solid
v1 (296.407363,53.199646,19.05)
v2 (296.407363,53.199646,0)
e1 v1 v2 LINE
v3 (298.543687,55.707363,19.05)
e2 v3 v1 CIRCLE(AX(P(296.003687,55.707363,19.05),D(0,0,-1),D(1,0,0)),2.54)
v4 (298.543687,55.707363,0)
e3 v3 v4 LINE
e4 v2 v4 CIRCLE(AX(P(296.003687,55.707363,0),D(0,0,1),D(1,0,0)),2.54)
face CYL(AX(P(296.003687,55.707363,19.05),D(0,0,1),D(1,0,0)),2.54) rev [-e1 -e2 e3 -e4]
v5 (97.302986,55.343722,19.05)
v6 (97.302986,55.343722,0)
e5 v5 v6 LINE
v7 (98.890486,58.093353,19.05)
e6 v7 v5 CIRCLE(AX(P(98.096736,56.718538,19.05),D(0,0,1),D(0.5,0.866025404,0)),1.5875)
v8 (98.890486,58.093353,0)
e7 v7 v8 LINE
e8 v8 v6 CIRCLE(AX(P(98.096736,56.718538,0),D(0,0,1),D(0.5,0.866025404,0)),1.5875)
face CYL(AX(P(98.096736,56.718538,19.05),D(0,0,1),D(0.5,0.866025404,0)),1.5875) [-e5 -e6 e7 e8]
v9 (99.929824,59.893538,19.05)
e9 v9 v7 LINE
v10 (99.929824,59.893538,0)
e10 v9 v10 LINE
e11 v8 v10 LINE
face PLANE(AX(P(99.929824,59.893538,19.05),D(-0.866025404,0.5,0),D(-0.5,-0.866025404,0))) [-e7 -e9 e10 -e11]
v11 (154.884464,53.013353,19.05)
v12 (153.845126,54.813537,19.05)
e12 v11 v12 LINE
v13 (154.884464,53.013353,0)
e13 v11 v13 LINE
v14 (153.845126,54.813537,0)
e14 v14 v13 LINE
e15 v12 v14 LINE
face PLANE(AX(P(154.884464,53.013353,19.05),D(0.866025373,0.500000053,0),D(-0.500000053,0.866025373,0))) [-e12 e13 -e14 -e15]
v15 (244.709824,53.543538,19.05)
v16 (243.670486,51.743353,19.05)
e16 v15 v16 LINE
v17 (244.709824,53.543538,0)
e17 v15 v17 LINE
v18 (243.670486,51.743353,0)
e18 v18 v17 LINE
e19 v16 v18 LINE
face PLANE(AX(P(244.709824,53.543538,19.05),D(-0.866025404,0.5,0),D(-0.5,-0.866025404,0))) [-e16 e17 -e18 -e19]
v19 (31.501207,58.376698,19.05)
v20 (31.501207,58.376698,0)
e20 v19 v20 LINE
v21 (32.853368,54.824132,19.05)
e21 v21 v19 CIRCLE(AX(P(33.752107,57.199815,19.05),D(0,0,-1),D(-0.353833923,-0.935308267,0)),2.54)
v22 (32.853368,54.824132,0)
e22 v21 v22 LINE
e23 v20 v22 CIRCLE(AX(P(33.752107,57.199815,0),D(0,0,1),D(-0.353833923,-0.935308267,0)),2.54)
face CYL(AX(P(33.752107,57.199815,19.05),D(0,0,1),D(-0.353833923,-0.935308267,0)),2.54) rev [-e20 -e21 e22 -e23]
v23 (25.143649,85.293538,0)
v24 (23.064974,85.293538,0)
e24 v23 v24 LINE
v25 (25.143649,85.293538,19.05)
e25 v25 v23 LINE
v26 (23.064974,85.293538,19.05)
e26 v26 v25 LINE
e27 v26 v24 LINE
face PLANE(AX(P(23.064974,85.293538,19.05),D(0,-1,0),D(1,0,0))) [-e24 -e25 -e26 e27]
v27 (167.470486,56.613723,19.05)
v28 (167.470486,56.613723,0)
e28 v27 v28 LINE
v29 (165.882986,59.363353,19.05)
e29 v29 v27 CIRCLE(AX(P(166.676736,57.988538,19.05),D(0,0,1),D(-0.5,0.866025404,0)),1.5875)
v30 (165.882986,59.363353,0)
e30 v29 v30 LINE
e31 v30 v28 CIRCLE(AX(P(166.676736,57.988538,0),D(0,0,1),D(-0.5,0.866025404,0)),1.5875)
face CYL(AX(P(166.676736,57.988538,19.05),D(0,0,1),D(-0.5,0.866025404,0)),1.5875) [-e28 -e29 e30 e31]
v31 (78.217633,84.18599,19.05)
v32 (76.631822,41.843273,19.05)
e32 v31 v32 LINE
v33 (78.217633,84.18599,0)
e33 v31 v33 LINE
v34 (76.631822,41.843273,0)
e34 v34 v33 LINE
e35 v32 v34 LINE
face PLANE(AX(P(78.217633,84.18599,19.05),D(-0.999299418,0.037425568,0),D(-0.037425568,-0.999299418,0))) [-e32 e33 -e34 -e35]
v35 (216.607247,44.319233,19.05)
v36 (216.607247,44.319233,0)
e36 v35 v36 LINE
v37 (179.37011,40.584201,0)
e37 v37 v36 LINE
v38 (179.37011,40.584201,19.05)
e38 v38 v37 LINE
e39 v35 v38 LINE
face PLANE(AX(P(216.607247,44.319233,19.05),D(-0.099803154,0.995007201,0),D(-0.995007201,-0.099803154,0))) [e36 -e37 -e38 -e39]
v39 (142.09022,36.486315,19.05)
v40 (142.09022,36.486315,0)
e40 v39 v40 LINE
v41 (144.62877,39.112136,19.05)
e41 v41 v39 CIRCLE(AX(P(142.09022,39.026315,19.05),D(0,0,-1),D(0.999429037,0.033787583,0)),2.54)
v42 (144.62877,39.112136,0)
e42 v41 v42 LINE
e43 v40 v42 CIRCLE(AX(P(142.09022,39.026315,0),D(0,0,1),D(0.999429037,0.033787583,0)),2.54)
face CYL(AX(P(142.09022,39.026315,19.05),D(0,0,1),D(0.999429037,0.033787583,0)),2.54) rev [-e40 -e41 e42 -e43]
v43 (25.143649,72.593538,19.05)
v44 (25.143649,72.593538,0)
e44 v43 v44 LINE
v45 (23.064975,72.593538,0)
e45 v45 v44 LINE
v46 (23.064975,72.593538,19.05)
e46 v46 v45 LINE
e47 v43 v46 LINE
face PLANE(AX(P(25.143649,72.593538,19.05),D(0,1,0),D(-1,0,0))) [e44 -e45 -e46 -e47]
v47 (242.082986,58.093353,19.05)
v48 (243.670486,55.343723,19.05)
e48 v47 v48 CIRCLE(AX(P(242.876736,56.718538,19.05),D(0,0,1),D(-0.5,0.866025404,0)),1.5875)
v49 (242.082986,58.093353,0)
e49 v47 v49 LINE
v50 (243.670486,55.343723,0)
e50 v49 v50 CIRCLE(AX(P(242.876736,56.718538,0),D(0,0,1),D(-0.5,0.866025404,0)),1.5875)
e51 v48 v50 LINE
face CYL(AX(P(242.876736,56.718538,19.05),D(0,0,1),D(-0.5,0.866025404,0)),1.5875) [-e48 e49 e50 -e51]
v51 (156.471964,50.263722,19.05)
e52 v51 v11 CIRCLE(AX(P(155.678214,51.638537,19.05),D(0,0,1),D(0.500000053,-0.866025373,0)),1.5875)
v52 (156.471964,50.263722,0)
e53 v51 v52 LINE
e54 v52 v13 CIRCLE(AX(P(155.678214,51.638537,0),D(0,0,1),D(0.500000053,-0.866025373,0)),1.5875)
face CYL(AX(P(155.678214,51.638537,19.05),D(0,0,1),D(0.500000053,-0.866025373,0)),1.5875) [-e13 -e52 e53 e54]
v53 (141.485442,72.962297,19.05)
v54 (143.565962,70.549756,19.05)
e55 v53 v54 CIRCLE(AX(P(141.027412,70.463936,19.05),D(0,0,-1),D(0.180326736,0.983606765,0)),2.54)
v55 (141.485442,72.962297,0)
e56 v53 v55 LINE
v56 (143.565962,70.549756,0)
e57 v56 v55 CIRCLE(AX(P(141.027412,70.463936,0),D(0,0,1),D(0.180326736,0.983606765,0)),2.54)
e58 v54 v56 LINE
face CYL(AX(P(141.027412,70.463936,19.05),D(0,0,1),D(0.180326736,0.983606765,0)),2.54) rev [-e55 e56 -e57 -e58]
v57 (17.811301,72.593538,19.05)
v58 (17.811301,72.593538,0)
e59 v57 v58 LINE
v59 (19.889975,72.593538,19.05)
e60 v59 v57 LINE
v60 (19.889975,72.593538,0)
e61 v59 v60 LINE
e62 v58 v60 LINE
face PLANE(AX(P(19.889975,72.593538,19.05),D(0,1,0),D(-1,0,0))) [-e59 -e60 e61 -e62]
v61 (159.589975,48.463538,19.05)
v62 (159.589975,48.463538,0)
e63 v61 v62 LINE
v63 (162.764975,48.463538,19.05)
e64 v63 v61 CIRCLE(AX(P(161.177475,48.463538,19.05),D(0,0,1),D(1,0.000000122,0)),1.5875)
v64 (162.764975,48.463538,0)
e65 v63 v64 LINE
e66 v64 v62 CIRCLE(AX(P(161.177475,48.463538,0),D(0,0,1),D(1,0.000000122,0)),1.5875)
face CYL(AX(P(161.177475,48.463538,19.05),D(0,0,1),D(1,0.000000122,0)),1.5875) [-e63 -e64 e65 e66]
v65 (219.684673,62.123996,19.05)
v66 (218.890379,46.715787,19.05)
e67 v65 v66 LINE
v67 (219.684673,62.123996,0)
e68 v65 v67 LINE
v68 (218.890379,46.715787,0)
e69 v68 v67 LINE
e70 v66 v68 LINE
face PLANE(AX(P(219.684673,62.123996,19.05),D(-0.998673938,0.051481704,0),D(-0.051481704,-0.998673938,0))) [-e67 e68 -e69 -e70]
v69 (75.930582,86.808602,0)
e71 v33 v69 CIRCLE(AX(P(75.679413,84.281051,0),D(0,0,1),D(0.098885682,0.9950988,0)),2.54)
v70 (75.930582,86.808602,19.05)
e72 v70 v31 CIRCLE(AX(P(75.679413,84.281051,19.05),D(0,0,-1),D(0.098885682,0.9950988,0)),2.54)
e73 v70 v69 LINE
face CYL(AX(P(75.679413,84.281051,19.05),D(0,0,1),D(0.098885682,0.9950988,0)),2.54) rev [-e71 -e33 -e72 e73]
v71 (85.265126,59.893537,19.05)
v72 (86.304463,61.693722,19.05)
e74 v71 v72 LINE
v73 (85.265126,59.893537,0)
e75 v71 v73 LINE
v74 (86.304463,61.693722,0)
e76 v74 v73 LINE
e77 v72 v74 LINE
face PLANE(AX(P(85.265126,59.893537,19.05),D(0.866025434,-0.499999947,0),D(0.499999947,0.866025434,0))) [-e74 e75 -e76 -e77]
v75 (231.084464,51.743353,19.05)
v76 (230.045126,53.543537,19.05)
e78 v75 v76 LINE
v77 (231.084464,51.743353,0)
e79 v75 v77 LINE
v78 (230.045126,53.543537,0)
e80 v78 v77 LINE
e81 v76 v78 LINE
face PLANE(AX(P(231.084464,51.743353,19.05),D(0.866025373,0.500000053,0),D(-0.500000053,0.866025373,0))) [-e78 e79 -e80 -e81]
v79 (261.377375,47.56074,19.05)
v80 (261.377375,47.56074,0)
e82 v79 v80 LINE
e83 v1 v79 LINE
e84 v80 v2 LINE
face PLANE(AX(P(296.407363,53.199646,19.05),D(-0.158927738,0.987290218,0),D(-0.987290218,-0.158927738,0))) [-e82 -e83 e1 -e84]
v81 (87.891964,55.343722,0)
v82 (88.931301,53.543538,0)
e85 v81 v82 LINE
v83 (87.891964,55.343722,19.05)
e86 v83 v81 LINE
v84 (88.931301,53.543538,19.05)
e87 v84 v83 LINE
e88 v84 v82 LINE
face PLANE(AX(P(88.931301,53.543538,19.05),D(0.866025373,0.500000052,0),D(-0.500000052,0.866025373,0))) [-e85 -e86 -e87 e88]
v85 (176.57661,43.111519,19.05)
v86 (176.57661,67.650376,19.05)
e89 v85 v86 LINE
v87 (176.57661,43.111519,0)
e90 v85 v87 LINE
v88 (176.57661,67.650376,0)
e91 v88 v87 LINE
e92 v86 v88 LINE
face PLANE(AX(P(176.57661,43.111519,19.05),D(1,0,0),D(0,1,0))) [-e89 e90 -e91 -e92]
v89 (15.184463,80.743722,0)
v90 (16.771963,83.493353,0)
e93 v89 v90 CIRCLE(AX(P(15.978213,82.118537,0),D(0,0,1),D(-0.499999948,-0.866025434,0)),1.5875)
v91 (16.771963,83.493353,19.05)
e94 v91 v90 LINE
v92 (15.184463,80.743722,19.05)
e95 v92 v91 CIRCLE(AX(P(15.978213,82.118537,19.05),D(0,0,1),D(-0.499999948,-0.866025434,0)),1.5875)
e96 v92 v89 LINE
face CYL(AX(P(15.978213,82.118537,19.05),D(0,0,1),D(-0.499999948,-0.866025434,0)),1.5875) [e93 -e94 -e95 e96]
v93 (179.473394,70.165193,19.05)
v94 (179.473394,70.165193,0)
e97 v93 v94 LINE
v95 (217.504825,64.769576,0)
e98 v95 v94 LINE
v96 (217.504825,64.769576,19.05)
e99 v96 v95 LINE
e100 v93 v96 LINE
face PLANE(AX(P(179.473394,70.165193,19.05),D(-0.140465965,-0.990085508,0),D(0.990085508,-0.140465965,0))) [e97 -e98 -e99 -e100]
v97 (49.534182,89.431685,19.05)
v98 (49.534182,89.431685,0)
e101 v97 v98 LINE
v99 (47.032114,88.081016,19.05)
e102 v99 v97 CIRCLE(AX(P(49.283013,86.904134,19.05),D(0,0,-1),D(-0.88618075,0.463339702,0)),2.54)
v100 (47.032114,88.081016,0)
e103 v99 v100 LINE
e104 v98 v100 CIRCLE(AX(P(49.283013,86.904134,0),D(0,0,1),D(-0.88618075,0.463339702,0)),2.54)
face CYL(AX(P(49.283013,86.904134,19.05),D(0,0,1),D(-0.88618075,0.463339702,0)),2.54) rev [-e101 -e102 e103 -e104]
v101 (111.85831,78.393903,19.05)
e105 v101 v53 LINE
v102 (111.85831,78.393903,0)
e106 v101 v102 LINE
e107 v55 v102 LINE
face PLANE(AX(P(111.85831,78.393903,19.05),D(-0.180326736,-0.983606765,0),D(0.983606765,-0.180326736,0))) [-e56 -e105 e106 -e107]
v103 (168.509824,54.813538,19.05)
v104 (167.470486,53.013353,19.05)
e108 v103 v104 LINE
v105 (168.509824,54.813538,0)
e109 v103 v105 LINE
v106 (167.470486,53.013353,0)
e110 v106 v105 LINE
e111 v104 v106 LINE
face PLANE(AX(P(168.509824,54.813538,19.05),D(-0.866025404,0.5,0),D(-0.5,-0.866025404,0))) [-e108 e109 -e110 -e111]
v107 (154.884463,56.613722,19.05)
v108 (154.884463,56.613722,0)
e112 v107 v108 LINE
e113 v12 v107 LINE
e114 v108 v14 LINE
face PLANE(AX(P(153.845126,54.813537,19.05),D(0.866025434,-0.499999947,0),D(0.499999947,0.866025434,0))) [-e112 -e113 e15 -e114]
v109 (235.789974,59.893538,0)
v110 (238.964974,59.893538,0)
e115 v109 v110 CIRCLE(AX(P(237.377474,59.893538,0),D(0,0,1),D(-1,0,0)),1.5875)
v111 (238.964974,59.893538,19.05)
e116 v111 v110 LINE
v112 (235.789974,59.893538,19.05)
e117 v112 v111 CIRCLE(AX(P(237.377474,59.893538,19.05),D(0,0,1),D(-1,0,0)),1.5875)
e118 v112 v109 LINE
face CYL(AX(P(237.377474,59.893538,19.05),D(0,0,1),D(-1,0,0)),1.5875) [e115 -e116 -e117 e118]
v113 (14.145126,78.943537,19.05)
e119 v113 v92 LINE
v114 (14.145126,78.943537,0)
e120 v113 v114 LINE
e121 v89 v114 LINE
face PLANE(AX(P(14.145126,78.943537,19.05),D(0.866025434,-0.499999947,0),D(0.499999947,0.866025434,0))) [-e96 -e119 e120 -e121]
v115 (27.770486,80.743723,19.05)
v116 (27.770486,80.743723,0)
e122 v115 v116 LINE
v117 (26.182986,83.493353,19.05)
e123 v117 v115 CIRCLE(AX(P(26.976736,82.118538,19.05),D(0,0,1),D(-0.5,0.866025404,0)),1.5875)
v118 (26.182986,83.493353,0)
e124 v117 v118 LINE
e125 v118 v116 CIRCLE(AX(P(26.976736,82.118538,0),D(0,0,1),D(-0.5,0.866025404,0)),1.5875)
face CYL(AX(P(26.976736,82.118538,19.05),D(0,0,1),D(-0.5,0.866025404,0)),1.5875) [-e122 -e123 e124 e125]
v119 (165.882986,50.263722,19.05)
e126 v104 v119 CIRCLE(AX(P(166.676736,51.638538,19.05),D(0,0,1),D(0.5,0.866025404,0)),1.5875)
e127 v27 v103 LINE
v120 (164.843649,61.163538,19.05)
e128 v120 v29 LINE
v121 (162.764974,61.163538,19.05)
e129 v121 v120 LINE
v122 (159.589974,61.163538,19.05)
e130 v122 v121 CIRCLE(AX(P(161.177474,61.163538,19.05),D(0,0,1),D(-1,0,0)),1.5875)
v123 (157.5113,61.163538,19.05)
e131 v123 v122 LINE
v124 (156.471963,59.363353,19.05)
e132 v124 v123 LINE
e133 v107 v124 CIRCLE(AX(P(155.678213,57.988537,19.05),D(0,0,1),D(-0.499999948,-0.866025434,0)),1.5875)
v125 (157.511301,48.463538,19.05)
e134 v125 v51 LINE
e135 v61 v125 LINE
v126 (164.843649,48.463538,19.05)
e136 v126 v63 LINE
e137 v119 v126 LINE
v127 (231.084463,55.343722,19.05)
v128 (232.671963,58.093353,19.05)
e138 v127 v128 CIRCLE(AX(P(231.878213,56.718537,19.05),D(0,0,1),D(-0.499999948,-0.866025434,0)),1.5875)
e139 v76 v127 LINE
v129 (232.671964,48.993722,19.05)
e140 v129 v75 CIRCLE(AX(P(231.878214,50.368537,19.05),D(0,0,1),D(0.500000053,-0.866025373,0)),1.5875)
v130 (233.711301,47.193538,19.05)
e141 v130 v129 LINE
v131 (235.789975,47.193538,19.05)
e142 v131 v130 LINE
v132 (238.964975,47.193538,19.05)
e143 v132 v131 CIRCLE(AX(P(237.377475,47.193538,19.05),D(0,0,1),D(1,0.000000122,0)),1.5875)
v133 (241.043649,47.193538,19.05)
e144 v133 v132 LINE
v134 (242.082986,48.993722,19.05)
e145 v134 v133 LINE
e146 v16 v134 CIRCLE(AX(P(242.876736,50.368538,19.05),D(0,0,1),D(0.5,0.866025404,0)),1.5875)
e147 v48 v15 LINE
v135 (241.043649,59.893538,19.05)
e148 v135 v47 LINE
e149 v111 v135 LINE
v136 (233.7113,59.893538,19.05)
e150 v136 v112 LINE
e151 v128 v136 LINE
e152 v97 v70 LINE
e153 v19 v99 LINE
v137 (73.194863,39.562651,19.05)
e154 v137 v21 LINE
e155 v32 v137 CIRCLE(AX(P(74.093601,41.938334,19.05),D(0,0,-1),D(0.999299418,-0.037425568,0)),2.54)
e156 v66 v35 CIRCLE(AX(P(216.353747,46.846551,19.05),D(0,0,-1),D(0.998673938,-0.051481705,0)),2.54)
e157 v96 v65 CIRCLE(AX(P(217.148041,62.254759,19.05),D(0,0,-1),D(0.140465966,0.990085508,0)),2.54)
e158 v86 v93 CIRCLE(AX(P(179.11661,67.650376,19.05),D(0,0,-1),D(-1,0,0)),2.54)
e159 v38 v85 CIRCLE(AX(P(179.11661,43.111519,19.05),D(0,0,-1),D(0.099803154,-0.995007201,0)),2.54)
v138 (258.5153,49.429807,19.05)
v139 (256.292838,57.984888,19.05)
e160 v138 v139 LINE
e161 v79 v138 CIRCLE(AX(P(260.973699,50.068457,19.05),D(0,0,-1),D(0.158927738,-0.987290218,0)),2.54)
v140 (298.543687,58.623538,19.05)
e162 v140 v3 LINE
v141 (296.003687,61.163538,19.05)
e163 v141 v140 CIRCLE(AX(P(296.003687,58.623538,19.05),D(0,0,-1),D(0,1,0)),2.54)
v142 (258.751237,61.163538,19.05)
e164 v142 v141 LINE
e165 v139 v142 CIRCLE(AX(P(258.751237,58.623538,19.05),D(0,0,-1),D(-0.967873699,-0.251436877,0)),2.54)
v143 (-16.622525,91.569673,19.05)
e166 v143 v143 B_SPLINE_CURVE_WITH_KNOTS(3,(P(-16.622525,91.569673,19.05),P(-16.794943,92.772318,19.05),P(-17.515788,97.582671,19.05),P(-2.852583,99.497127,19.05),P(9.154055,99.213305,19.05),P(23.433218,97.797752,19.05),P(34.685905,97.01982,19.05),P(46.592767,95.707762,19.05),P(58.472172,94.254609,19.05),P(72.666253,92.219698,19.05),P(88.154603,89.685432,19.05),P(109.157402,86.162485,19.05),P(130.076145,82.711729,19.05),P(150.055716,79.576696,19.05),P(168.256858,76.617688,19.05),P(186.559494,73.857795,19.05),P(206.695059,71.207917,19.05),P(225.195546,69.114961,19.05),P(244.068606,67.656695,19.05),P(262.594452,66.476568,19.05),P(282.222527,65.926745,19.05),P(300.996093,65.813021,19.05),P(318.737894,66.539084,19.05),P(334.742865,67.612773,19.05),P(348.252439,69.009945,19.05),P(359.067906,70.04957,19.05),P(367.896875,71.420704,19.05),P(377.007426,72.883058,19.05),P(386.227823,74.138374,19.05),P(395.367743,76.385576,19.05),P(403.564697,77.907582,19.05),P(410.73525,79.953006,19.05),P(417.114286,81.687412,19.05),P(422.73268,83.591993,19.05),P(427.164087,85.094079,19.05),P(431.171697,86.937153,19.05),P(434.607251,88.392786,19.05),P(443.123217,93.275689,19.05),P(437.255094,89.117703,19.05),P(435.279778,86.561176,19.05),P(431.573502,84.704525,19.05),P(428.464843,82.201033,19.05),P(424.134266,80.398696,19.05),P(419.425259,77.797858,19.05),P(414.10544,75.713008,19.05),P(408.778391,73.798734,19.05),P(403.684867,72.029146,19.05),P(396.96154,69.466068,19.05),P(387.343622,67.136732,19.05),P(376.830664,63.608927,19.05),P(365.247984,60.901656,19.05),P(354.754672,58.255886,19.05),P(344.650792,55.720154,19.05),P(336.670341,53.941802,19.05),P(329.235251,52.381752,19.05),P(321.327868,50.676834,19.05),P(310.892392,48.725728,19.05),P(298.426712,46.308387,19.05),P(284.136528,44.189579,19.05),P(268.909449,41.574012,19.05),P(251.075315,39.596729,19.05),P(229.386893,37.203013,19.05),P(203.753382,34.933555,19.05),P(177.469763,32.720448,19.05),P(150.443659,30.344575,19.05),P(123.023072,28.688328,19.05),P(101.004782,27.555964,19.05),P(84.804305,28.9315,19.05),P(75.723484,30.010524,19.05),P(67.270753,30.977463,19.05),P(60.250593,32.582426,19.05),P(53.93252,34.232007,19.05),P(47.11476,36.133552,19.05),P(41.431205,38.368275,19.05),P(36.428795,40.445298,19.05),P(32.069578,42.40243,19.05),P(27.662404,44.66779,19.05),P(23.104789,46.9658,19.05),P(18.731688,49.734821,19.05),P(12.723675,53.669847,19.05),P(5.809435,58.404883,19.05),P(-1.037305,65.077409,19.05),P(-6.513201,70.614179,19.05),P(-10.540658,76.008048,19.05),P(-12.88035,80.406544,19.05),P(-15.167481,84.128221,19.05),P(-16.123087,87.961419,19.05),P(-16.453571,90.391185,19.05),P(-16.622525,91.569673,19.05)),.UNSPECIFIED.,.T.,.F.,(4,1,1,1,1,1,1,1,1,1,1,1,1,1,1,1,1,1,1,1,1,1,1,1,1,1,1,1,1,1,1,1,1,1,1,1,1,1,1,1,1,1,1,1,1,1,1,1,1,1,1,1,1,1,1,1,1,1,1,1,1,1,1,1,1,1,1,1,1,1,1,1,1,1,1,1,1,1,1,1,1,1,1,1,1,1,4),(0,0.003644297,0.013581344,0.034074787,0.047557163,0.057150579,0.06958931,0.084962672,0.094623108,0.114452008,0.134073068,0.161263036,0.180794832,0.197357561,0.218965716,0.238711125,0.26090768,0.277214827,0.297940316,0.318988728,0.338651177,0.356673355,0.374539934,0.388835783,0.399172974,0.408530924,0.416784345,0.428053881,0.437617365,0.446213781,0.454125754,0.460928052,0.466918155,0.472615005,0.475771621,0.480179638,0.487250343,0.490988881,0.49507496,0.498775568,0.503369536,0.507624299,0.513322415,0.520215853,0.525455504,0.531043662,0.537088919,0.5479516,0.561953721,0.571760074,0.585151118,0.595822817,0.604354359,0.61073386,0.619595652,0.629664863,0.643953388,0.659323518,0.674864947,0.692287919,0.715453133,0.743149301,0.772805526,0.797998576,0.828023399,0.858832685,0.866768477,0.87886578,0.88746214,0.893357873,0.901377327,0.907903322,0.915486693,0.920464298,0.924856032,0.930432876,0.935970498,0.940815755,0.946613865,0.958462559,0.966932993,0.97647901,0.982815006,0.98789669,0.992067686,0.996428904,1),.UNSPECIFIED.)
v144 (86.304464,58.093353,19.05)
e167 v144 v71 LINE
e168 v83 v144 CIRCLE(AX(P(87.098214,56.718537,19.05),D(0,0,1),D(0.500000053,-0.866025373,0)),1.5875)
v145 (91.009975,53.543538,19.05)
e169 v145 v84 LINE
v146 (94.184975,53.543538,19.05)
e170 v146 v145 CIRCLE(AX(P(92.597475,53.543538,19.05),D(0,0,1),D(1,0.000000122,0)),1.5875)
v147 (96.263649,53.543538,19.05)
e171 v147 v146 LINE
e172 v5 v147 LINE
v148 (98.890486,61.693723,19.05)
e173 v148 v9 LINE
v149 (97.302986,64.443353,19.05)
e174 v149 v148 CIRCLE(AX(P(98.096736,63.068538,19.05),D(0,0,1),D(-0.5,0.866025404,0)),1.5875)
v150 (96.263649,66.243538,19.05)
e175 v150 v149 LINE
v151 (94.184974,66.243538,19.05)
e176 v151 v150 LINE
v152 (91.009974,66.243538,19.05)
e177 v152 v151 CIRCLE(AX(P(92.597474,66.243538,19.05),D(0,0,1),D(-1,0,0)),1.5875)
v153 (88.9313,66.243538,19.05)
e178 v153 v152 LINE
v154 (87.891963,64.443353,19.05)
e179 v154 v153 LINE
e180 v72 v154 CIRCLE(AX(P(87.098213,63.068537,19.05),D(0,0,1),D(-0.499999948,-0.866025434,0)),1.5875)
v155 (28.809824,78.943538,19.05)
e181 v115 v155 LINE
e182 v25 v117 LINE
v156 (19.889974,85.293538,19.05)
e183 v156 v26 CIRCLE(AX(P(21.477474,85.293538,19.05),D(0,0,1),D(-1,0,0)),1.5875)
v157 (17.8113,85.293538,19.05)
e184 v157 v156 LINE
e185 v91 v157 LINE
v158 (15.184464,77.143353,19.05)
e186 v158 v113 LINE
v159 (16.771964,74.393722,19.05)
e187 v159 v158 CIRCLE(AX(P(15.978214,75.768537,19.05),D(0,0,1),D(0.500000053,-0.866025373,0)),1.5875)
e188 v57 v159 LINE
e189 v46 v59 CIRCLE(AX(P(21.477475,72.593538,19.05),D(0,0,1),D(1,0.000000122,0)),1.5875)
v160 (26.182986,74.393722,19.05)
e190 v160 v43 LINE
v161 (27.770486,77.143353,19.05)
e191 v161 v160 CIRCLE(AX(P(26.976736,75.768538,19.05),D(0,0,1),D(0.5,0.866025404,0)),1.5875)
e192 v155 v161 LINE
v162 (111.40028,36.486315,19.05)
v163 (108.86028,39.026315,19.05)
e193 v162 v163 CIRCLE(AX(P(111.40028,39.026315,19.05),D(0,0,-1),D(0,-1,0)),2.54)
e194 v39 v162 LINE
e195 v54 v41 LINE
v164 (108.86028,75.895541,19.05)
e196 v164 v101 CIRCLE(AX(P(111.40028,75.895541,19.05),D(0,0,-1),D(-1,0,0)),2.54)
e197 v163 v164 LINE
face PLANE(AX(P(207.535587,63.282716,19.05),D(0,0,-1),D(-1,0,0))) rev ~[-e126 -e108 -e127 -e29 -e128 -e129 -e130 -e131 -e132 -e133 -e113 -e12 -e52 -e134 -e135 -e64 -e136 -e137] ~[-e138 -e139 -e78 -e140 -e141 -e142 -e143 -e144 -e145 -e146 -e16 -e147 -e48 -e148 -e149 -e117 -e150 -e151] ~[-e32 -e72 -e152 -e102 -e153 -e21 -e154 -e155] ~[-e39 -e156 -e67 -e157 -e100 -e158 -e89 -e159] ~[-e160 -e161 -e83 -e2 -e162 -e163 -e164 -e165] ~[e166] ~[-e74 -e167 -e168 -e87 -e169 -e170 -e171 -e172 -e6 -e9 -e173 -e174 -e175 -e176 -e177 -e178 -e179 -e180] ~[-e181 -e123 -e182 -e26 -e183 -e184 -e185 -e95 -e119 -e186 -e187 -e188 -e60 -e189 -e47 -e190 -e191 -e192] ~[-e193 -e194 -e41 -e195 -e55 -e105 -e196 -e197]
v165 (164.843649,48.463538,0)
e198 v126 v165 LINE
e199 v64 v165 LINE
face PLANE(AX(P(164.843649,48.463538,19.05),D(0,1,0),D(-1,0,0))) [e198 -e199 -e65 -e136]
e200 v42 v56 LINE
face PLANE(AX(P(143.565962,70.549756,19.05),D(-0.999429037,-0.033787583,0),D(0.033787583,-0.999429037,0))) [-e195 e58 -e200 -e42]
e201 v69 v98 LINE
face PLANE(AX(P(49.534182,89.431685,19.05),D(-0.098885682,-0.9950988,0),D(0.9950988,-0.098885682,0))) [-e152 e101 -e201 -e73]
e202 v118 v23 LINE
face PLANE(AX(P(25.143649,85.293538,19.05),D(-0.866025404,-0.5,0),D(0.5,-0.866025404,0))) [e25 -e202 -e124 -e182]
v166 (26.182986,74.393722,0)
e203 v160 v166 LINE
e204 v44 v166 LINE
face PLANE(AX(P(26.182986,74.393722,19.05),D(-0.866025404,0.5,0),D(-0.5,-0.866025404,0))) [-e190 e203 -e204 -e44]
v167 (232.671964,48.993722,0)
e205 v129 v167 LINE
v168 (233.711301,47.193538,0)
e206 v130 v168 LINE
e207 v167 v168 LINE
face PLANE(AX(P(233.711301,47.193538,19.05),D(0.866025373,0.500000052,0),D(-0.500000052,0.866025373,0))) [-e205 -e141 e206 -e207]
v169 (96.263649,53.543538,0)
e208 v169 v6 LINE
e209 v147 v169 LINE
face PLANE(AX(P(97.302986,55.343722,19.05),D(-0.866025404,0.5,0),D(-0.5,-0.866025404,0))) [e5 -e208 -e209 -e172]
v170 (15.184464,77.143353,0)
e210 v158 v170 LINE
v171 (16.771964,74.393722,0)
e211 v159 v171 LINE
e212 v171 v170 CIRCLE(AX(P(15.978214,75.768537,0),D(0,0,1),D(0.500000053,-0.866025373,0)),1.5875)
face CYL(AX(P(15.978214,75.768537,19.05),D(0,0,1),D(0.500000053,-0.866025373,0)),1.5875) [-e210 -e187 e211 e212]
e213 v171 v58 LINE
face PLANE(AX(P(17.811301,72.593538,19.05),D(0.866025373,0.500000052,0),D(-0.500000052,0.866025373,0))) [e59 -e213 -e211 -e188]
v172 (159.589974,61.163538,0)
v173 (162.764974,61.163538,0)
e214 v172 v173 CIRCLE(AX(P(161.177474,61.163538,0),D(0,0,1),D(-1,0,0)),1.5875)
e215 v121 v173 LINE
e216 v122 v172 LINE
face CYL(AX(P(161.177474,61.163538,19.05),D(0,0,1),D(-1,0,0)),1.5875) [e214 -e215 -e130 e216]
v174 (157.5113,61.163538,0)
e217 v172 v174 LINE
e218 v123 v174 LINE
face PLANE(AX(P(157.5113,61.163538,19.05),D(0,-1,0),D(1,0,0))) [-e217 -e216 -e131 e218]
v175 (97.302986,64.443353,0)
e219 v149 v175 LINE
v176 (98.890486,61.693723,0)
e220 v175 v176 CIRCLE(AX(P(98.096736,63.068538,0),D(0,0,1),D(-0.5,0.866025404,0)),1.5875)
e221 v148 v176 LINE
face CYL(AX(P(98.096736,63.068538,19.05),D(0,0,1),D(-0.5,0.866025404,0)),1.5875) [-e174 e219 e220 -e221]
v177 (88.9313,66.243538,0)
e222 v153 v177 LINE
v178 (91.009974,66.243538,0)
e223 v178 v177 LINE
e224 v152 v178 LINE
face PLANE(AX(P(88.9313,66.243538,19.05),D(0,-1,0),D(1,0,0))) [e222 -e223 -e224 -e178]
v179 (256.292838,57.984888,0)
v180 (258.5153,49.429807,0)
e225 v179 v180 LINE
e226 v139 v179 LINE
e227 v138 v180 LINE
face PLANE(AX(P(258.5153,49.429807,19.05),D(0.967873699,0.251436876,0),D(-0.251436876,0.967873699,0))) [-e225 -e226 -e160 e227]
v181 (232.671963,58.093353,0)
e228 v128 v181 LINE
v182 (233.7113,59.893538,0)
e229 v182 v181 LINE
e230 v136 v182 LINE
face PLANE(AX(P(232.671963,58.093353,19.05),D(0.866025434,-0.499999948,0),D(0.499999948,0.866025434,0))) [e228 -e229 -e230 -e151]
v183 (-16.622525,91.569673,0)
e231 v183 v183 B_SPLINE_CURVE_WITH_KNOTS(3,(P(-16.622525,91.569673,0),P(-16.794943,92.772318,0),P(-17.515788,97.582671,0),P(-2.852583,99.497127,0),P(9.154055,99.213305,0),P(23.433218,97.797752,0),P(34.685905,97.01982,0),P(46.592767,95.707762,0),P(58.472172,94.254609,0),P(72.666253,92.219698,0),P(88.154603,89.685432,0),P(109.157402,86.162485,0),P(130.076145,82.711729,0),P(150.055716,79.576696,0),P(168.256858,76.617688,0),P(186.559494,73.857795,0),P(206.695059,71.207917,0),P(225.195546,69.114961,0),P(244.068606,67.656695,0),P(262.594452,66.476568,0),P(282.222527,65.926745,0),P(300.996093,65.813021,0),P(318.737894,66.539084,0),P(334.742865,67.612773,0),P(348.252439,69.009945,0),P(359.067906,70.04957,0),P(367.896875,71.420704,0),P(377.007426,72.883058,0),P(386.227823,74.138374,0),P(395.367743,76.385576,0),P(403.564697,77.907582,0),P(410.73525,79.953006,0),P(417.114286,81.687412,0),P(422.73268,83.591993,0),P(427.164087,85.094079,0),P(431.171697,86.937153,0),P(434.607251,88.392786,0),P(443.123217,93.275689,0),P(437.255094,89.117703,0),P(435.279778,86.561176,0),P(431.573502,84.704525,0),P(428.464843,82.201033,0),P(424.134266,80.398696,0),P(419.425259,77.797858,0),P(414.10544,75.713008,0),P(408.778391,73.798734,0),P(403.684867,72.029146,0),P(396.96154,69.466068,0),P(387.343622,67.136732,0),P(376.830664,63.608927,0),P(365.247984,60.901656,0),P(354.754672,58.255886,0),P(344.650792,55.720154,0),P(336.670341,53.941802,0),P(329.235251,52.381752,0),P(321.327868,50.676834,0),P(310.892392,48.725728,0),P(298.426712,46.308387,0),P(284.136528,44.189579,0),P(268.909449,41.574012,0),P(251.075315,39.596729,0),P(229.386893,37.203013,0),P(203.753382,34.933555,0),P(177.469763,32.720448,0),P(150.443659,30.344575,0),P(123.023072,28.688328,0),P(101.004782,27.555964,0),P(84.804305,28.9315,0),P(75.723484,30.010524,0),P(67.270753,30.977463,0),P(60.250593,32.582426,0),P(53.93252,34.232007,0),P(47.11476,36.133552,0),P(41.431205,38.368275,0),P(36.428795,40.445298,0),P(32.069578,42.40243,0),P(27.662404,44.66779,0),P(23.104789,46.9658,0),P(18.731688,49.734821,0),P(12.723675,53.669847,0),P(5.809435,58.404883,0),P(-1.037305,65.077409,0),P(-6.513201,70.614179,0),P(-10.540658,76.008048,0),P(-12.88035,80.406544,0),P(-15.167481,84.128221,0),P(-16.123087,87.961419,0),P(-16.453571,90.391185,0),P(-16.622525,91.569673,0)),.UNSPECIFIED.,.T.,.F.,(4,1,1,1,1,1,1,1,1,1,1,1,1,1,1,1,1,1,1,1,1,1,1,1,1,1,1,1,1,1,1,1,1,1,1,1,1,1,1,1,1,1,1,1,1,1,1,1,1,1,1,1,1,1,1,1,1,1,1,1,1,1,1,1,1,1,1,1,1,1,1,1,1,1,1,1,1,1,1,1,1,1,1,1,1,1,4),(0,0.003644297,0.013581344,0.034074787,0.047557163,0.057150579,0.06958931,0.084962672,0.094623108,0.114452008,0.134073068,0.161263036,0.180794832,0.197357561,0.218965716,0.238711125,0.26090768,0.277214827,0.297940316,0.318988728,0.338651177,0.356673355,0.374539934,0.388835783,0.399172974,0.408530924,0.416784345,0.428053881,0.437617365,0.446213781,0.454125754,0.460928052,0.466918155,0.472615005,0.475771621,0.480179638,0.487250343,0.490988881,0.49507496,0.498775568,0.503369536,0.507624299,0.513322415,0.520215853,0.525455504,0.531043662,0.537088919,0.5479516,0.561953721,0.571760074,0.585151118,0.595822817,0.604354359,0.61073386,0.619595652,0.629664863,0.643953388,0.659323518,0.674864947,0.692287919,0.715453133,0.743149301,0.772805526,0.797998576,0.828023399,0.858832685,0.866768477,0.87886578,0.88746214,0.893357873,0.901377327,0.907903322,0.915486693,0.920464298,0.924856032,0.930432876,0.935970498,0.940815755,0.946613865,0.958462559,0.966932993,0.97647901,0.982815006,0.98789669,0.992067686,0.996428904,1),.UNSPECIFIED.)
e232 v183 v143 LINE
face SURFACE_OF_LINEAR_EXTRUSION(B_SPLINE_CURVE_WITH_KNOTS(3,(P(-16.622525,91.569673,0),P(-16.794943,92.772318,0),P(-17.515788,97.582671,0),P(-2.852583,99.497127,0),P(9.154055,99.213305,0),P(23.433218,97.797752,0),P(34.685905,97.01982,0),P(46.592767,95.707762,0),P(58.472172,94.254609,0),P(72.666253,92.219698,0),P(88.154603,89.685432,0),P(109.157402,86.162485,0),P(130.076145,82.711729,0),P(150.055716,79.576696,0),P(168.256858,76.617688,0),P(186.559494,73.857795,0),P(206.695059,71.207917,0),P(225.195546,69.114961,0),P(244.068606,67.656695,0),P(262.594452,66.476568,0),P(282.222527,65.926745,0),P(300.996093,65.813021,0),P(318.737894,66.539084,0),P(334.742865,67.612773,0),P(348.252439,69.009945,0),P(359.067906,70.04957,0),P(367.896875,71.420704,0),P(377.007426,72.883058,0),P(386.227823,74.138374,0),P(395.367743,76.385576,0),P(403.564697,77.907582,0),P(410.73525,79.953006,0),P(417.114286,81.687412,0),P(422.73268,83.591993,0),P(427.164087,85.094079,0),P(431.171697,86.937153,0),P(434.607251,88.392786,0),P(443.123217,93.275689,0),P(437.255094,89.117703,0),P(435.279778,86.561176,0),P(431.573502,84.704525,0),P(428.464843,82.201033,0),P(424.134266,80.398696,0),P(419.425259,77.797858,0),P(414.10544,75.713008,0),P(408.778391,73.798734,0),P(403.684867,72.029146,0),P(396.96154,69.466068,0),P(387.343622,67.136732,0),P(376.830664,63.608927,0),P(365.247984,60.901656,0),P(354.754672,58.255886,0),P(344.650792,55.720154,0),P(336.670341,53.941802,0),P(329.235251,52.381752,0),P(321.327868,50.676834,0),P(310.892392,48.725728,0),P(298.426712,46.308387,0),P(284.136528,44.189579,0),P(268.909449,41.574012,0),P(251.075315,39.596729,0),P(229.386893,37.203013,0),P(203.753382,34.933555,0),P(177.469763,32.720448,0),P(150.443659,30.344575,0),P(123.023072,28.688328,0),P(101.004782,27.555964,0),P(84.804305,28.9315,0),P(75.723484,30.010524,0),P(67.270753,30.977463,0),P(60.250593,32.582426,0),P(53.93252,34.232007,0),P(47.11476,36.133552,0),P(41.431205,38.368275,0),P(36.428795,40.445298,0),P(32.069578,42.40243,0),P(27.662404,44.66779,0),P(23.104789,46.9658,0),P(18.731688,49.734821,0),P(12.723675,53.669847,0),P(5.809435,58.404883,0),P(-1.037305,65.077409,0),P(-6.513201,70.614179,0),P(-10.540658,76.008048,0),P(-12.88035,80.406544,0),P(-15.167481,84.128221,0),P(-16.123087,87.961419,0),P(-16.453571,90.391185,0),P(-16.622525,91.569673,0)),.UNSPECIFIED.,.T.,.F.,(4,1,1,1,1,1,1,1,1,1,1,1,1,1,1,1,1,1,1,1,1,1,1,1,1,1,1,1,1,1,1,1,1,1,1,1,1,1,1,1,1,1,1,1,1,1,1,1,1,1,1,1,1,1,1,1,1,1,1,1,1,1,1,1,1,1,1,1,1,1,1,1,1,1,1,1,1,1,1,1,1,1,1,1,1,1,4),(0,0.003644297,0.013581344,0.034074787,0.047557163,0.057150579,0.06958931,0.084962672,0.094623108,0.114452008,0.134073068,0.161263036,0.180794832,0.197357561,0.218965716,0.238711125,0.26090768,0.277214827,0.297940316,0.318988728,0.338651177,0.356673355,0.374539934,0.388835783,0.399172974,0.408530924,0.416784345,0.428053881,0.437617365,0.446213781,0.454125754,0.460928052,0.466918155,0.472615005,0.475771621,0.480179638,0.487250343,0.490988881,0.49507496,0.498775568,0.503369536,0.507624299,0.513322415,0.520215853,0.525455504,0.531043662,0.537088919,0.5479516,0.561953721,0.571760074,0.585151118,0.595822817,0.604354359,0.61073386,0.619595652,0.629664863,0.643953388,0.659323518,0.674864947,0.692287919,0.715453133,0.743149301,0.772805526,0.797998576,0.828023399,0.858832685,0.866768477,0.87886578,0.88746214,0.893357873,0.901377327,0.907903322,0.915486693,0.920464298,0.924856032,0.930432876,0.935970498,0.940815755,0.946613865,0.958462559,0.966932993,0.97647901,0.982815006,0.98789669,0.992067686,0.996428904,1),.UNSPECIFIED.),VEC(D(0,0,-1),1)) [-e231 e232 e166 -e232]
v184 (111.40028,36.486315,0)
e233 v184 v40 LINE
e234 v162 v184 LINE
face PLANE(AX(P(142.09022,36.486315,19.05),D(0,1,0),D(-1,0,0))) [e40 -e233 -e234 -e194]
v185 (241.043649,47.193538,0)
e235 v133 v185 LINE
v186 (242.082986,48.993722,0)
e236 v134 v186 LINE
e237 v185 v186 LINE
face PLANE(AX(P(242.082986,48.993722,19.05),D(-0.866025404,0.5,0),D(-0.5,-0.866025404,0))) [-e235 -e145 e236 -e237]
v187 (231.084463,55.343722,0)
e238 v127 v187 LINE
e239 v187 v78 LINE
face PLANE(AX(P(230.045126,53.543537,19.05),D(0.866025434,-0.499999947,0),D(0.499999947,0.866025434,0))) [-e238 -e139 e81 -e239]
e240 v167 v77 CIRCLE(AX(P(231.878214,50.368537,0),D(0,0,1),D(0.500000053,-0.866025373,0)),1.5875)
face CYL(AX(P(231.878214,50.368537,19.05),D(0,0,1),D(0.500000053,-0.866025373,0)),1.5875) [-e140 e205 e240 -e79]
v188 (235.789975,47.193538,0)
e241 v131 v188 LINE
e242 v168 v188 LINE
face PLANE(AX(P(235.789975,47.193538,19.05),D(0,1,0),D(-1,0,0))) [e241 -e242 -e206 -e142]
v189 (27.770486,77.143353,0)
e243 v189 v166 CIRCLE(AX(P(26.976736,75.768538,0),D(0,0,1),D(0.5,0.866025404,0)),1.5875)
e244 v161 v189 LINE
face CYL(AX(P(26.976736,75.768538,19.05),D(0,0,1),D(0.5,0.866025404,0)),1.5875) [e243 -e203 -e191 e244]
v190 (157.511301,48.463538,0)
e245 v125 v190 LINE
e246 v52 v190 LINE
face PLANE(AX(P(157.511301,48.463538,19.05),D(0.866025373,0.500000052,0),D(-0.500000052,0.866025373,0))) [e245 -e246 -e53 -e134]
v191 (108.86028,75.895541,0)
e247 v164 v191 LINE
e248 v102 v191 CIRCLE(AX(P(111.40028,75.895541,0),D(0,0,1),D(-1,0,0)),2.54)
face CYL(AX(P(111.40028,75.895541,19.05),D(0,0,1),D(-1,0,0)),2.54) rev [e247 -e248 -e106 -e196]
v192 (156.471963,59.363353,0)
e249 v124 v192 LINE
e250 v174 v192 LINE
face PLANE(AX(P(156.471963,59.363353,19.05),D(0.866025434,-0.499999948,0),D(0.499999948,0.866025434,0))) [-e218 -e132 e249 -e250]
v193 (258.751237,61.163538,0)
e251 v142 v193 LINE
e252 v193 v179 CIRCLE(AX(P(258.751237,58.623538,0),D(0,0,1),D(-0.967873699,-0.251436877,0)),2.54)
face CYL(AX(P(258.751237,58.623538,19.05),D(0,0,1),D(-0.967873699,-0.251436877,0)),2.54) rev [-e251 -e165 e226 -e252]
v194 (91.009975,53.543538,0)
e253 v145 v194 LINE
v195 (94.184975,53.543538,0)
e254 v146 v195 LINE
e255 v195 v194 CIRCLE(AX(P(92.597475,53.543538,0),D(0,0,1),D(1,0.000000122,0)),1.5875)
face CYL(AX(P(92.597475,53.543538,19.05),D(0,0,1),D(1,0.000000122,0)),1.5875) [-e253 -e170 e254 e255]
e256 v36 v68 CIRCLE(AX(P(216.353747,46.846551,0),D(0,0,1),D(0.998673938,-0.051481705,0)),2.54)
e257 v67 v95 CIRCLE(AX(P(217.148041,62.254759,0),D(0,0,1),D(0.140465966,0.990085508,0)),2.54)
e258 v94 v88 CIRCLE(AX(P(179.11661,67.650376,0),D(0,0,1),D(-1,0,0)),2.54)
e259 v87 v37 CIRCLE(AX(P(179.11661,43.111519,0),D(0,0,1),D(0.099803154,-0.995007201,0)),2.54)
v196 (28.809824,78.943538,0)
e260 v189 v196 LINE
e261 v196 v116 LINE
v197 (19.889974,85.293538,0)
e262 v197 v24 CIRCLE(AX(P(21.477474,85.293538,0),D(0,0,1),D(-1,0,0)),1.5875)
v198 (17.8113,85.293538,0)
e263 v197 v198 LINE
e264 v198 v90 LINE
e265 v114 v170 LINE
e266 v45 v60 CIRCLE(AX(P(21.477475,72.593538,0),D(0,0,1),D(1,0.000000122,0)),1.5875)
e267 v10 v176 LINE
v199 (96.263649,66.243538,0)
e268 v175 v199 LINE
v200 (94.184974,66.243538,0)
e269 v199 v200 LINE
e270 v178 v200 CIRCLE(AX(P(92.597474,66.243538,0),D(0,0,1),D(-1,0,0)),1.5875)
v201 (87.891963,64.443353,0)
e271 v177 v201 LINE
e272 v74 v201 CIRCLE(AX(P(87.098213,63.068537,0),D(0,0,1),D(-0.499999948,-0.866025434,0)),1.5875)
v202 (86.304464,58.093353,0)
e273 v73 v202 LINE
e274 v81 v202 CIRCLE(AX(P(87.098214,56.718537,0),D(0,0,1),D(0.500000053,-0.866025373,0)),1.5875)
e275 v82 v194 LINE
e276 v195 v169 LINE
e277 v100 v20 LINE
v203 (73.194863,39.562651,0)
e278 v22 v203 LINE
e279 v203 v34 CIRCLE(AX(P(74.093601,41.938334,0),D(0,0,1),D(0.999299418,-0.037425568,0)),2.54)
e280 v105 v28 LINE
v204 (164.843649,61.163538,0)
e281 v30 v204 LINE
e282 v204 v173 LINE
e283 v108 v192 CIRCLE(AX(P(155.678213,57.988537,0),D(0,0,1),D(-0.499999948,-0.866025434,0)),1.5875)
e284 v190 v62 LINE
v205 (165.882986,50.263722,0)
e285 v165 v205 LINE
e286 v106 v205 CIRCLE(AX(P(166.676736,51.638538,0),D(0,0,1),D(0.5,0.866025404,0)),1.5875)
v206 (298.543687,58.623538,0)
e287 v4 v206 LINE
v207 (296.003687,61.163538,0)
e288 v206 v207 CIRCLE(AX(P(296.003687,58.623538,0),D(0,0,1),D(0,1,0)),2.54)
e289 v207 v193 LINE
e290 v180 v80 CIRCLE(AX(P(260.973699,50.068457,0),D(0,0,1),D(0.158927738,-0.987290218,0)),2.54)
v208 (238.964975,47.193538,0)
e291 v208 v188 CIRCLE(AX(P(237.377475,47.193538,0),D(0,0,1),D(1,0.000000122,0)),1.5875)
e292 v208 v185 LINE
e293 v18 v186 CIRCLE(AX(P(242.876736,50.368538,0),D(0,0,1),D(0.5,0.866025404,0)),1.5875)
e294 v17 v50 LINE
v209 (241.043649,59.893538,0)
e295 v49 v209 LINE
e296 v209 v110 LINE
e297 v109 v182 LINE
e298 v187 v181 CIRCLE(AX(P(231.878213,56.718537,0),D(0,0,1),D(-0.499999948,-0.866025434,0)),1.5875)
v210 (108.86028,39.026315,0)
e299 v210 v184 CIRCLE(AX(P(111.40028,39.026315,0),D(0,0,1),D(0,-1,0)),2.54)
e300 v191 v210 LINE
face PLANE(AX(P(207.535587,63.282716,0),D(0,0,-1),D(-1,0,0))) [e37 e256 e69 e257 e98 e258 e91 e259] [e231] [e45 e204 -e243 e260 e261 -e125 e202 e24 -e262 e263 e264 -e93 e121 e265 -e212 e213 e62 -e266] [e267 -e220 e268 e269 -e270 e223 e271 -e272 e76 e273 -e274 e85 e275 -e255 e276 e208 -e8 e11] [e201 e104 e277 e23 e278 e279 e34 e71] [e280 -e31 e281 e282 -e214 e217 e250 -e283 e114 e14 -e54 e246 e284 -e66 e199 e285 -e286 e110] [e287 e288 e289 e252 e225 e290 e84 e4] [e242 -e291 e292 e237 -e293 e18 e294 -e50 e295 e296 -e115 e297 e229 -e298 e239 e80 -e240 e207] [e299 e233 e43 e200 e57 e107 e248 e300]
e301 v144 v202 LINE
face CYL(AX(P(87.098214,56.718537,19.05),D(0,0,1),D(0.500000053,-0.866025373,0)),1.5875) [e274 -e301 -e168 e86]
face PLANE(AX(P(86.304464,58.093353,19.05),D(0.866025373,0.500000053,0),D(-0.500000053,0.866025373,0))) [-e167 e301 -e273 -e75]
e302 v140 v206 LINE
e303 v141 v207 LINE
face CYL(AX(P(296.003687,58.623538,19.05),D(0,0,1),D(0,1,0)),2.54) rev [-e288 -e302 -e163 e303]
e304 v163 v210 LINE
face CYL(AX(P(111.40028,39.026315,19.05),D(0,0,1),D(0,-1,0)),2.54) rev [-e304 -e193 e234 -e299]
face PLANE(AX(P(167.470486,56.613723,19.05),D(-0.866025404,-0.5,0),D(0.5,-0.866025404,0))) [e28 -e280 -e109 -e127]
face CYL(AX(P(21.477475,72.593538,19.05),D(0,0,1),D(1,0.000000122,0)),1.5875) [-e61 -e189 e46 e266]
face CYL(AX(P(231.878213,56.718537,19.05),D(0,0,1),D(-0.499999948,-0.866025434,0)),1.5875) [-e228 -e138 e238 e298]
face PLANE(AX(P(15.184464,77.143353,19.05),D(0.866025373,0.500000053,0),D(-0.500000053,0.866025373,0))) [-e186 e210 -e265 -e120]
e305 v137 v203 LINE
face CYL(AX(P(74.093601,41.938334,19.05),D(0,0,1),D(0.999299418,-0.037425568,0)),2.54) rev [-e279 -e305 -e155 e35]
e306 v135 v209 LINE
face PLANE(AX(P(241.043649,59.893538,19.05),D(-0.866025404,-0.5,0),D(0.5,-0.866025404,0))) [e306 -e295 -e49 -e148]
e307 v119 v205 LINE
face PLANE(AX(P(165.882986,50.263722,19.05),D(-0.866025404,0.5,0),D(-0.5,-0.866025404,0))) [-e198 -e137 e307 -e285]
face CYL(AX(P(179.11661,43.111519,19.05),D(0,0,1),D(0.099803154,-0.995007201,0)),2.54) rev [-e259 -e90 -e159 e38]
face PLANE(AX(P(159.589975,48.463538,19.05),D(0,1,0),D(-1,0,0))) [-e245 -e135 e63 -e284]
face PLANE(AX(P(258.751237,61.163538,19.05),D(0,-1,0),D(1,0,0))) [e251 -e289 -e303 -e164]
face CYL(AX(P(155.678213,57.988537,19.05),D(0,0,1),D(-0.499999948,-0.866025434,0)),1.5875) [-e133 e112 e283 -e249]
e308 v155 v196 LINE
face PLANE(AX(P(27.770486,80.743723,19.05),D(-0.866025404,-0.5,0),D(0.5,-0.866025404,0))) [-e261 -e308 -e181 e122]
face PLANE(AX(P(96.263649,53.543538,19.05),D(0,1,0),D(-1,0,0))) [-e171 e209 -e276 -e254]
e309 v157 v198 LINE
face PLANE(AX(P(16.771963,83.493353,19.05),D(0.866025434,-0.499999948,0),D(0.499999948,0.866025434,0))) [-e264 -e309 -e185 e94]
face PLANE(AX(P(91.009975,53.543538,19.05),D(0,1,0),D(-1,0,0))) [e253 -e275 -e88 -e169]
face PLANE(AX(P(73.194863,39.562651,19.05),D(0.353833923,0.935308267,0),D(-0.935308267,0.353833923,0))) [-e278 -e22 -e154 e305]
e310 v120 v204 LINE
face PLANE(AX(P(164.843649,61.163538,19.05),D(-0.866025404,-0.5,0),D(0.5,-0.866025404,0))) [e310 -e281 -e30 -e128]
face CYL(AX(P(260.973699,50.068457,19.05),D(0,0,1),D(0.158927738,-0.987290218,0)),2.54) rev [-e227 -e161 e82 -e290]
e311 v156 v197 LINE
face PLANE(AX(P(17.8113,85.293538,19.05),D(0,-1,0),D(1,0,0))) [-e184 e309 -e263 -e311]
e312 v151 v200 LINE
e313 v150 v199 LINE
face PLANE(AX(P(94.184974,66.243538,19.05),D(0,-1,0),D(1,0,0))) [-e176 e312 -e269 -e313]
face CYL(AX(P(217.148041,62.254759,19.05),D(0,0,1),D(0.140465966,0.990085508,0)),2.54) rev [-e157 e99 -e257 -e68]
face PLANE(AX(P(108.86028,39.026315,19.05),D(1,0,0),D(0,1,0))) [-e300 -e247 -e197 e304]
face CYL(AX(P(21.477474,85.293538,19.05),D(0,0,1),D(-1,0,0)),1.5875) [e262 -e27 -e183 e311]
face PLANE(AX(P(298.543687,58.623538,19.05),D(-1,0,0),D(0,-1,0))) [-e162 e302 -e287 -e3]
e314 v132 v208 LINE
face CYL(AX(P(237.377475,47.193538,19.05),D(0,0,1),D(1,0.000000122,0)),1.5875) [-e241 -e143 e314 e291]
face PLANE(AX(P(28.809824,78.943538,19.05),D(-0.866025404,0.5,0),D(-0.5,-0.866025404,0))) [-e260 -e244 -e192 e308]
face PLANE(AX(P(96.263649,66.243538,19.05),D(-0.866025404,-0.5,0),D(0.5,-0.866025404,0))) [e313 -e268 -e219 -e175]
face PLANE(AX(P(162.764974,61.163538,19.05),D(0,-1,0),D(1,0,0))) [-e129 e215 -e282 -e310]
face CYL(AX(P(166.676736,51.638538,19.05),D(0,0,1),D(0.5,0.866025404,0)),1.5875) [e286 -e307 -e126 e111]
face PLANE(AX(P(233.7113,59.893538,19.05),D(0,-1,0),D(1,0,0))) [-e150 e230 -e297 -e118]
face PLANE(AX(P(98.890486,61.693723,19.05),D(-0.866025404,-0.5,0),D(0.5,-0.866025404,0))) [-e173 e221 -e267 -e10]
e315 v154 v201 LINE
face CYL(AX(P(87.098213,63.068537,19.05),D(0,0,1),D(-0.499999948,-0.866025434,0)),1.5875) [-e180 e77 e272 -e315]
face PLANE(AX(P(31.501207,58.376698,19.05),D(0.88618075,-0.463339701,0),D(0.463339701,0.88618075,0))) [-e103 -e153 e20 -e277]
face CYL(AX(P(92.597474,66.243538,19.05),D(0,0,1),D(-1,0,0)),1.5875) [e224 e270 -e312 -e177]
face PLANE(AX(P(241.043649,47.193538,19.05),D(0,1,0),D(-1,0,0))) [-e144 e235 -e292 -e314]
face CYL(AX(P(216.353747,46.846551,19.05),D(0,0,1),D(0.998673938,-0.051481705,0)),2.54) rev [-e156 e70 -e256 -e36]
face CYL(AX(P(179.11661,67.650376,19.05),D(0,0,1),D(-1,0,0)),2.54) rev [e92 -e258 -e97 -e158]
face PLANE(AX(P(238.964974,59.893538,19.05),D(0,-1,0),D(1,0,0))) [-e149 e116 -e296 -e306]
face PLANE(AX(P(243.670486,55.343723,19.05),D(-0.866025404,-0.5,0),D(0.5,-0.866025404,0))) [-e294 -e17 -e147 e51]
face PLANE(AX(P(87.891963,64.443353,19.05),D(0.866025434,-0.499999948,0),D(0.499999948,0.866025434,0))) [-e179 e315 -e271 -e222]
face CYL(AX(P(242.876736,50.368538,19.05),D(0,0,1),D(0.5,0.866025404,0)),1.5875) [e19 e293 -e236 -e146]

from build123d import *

# Parameters (mm, degrees)
BOSS_EXTRUDE1_DEPTH = 19.05
CUT_EXTRUDE3_DEPTH  = 381


with BuildPart() as part:
    # Sketch1 → Boss-Extrude1 (new body)
    with BuildSketch(Plane.XY):
        with BuildLine():
            add(Edge.make_bspline(
                [(-16.622525288, 91.56967272), (-16.794942994, 92.772317911), (-17.515788121, 97.582670832), (-2.852582554, 99.497127174), (9.154054709, 99.213304724), (23.433217875, 97.797752429), (34.6859051, 97.019819773), (46.592767258, 95.707761604), (58.472171701, 94.254609297), (72.666253463, 92.219697635), (88.15460255, 89.685431784), (109.15740223, 86.162485471), (130.076144789, 82.711728928), (150.055716296, 79.576696099), (168.256858053, 76.617688262), (186.559493812, 73.857794613), (206.695059336, 71.20791695), (225.195546149, 69.114961125), (244.068606399, 67.656695297), (262.594452449, 66.476567979), (282.222526995, 65.926744761), (300.99609332, 65.813021246), (318.737894065, 66.539084176), (334.742865336, 67.61277327), (348.252438633, 69.009944705), (359.067906447, 70.049570339), (367.896874578, 71.420704301), (377.007425502, 72.883057797), (386.227823421, 74.138373924), (395.367743176, 76.385575861), (403.564697097, 77.907582397), (410.735250399, 79.953005658), (417.114285798, 81.687412008), (422.732680223, 83.591992804), (427.164087313, 85.094079009), (431.171696898, 86.937153076), (434.607250511, 88.392786361), (443.123217376, 93.275688905), (437.255094337, 89.117703468), (435.279778464, 86.561175616), (431.573501891, 84.704524529), (428.464842726, 82.201032813), (424.134266462, 80.398696308), (419.425258521, 77.797857577), (414.105440345, 75.713007702), (408.77839072, 73.798734141), (403.684867312, 72.029145889), (396.961540144, 69.466067962), (387.343622202, 67.136732033), (376.830663922, 63.608926675), (365.24798357, 60.901656463), (354.754672426, 58.255886458), (344.650791699, 55.720154361), (336.670341174, 53.941801639), (329.235250959, 52.381752299), (321.327868225, 50.676833739), (310.892392252, 48.725728026), (298.426712372, 46.308387166), (284.136528131, 44.189578856), (268.909448728, 41.574011521), (251.075314715, 39.596728872), (229.386892765, 37.203012777), (203.753382466, 34.933554815), (177.46976253, 32.720447696), (150.443659112, 30.344574846), (123.02307167, 28.688327838), (101.004781565, 27.555963663), (84.804305156, 28.931500406), (75.72348416, 30.010523718), (67.270753352, 30.977463397), (60.250592801, 32.582425676), (53.932519662, 34.232006507), (47.114759922, 36.133551764), (41.43120503, 38.368275103), (36.428795002, 40.445297648), (32.069577899, 42.402430324), (27.662403595, 44.667790264), (23.104788958, 46.965799851), (18.73168781, 49.734821084), (12.723675127, 53.669846892), (5.809434759, 58.404883079), (-1.037305312, 65.077409289), (-6.513200759, 70.614178991), (-10.540658158, 76.008047875), (-12.880350205, 80.406543609), (-15.167480815, 84.128221175), (-16.123087236, 87.961419413), (-16.453570873, 90.391184614), (-16.622525288, 91.56967272)],
                knots=[0, 0, 0, 0, 0.003644297, 0.013581344, 0.034074787, 0.047557163, 0.057150579, 0.06958931, 0.084962672, 0.094623108, 0.114452008, 0.134073068, 0.161263036, 0.180794832, 0.197357561, 0.218965716, 0.238711125, 0.26090768, 0.277214827, 0.297940316, 0.318988728, 0.338651177, 0.356673355, 0.374539934, 0.388835783, 0.399172974, 0.408530924, 0.416784345, 0.428053881, 0.437617365, 0.446213781, 0.454125754, 0.460928052, 0.466918155, 0.472615005, 0.475771621, 0.480179638, 0.487250343, 0.490988881, 0.49507496, 0.498775568, 0.503369536, 0.507624299, 0.513322415, 0.520215853, 0.525455504, 0.531043662, 0.537088919, 0.5479516, 0.561953721, 0.571760074, 0.585151118, 0.595822817, 0.604354359, 0.61073386, 0.619595652, 0.629664863, 0.643953388, 0.659323518, 0.674864947, 0.692287919, 0.715453133, 0.743149301, 0.772805526, 0.797998576, 0.828023399, 0.858832685, 0.866768477, 0.87886578, 0.88746214, 0.893357873, 0.901377327, 0.907903322, 0.915486693, 0.920464298, 0.924856032, 0.930432876, 0.935970498, 0.940815755, 0.946613865, 0.958462559, 0.966932993, 0.97647901, 0.982815006, 0.98789669, 0.992067686, 0.996428904, 1, 1, 1, 1], degree=3))
        make_face()
    extrude(amount=BOSS_EXTRUDE1_DEPTH)

    # Sketch4 → Cut-Extrude3 (cut)
    with BuildSketch(Plane.XY.offset(19.05)):
        with BuildLine():
            Line((88.931300118, 66.243537573), (91.009974327, 66.243537573))
            ThreePointArc((91.009974327, 66.243537573), (92.597474327, 64.656037573), (94.184974327, 66.243537573))
            Line((94.184974327, 66.243537573), (96.263648536, 66.243537573))
            Line((96.263648536, 66.243537573), (97.302985641, 64.443352902))
            ThreePointArc((97.302985641, 64.443352902), (96.721920503, 62.274787243), (98.890486301, 61.693722626))
            Line((98.890486301, 61.693722626), (99.929823515, 59.893537766))
            Line((99.929823515, 59.893537766), (98.89048641, 58.093353094))
            ThreePointArc((98.89048641, 58.093353094), (96.721921082, 57.512287766), (97.30298641, 55.343722437))
            Line((97.30298641, 55.343722437), (96.263649306, 53.543537766))
            Line((96.263649306, 53.543537766), (94.184975096, 53.543537766))
            ThreePointArc((94.184975096, 53.543537766), (92.597475, 55.131037573), (91.009975096, 53.543537573))
            Line((91.009975096, 53.543537573), (88.931300887, 53.543537573))
            Line((88.931300887, 53.543537573), (87.891963673, 55.343722182))
            ThreePointArc((87.891963673, 55.343722182), (88.47302887, 57.512287545), (86.304463507, 58.093352743))
            Line((86.304463507, 58.093352743), (85.265126293, 59.893537351))
            Line((85.265126293, 59.893537351), (86.304463288, 61.693722086))
            ThreePointArc((86.304463288, 61.693722086), (88.473028582, 62.274787545), (87.891963122, 64.443352839))
            Line((87.891963122, 64.443352839), (88.931300118, 66.243537573))
        make_face()
        with BuildLine():
            Line((17.811300118, 85.293537573), (19.889974327, 85.293537573))
            ThreePointArc((19.889974327, 85.293537573), (21.477474327, 83.706037573), (23.064974327, 85.293537573))
            Line((23.064974327, 85.293537573), (25.143648536, 85.293537573))
            Line((25.143648536, 85.293537573), (26.182985641, 83.493352902))
            ThreePointArc((26.182985641, 83.493352902), (25.601920503, 81.324787243), (27.770486301, 80.743722626))
            Line((27.770486301, 80.743722626), (28.809823515, 78.943537766))
            Line((28.809823515, 78.943537766), (27.77048641, 77.143353094))
            ThreePointArc((27.77048641, 77.143353094), (25.601921082, 76.562287766), (26.18298641, 74.393722437))
            Line((26.18298641, 74.393722437), (25.143649306, 72.593537766))
            Line((25.143649306, 72.593537766), (23.064975096, 72.593537766))
            ThreePointArc((23.064975096, 72.593537766), (21.477475, 74.181037573), (19.889975096, 72.593537573))
            Line((19.889975096, 72.593537573), (17.811300887, 72.593537573))
            Line((17.811300887, 72.593537573), (16.771963673, 74.393722182))
            ThreePointArc((16.771963673, 74.393722182), (17.35302887, 76.562287545), (15.184463507, 77.143352743))
            Line((15.184463507, 77.143352743), (14.145126293, 78.943537351))
            Line((14.145126293, 78.943537351), (15.184463288, 80.743722086))
            ThreePointArc((15.184463288, 80.743722086), (17.353028582, 81.324787545), (16.771963122, 83.493352839))
            Line((16.771963122, 83.493352839), (17.811300118, 85.293537573))
        make_face()
        with BuildLine():
            Line((233.711300118, 59.893537573), (235.789974327, 59.893537573))
            ThreePointArc((235.789974327, 59.893537573), (237.377474327, 58.306037573), (238.964974327, 59.893537573))
            Line((238.964974327, 59.893537573), (241.043648536, 59.893537573))
            Line((241.043648536, 59.893537573), (242.082985641, 58.093352902))
            ThreePointArc((242.082985641, 58.093352902), (241.501920503, 55.924787243), (243.670486301, 55.343722626))
            Line((243.670486301, 55.343722626), (244.709823515, 53.543537766))
            Line((244.709823515, 53.543537766), (243.67048641, 51.743353094))
            ThreePointArc((243.67048641, 51.743353094), (241.501921082, 51.162287766), (242.08298641, 48.993722437))
            Line((242.08298641, 48.993722437), (241.043649306, 47.193537766))
            Line((241.043649306, 47.193537766), (238.964975096, 47.193537766))
            ThreePointArc((238.964975096, 47.193537766), (237.377475, 48.781037573), (235.789975096, 47.193537573))
            Line((235.789975096, 47.193537573), (233.711300887, 47.193537573))
            Line((233.711300887, 47.193537573), (232.671963673, 48.993722182))
            ThreePointArc((232.671963673, 48.993722182), (233.25302887, 51.162287545), (231.084463507, 51.743352743))
            Line((231.084463507, 51.743352743), (230.045126293, 53.543537351))
            Line((230.045126293, 53.543537351), (231.084463288, 55.343722086))
            ThreePointArc((231.084463288, 55.343722086), (233.253028582, 55.924787545), (232.671963122, 58.093352839))
            Line((232.671963122, 58.093352839), (233.711300118, 59.893537573))
        make_face()
        with BuildLine():
            Line((157.511300118, 61.163537573), (159.589974327, 61.163537573))
            ThreePointArc((159.589974327, 61.163537573), (161.177474327, 59.576037573), (162.764974327, 61.163537573))
            Line((162.764974327, 61.163537573), (164.843648536, 61.163537573))
            Line((164.843648536, 61.163537573), (165.882985641, 59.363352902))
            ThreePointArc((165.882985641, 59.363352902), (165.301920503, 57.194787243), (167.470486301, 56.613722626))
            Line((167.470486301, 56.613722626), (168.509823515, 54.813537766))
            Line((168.509823515, 54.813537766), (167.47048641, 53.013353094))
            ThreePointArc((167.47048641, 53.013353094), (165.301921082, 52.432287766), (165.88298641, 50.263722437))
            Line((165.88298641, 50.263722437), (164.843649306, 48.463537766))
            Line((164.843649306, 48.463537766), (162.764975096, 48.463537766))
            ThreePointArc((162.764975096, 48.463537766), (161.177475, 50.051037573), (159.589975096, 48.463537573))
            Line((159.589975096, 48.463537573), (157.511300887, 48.463537573))
            Line((157.511300887, 48.463537573), (156.471963673, 50.263722182))
            ThreePointArc((156.471963673, 50.263722182), (157.05302887, 52.432287545), (154.884463507, 53.013352743))
            Line((154.884463507, 53.013352743), (153.845126293, 54.813537351))
            Line((153.845126293, 54.813537351), (154.884463288, 56.613722086))
            ThreePointArc((154.884463288, 56.613722086), (157.053028582, 57.194787545), (156.471963122, 59.363352839))
            Line((156.471963122, 59.363352839), (157.511300118, 61.163537573))
        make_face()
        with BuildLine():
            Line((31.501207482, 58.37669779), (47.032113751, 88.081016492))
            ThreePointArc((47.032113751, 88.081016492), (48.076445172, 89.139261035), (49.534182489, 89.431684603))
            Line((49.534182489, 89.431684603), (75.93058222, 86.808602351))
            ThreePointArc((75.93058222, 86.808602351), (77.593752589, 85.950453195), (78.217633108, 84.185990458))
            Line((78.217633108, 84.185990458), (76.631821885, 41.843273018))
            ThreePointArc((76.631821885, 41.843273018), (75.497981954, 39.821894696), (73.194863199, 39.56265096))
            Line((73.194863199, 39.56265096), (32.853368422, 54.824131949))
            ThreePointArc((32.853368422, 54.824131949), (31.378241648, 56.296285615), (31.501207482, 58.37669779))
        make_face()
        with BuildLine():
            Line((111.858309541, 78.393902518), (141.485442222, 72.962296795))
            ThreePointArc((141.485442222, 72.962296795), (142.950940478, 72.12274223), (143.565962065, 70.549756072))
            Line((143.565962065, 70.549756072), (144.628770085, 39.112135773))
            ThreePointArc((144.628770085, 39.112135773), (143.916361615, 37.260866924), (142.090220332, 36.486315313))
            Line((142.090220332, 36.486315313), (111.400279631, 36.486315313))
            ThreePointArc((111.400279631, 36.486315313), (109.604228407, 37.230264089), (108.860279631, 39.026315313))
            Line((108.860279631, 39.026315313), (108.860279631, 75.895541334))
            ThreePointArc((108.860279631, 75.895541334), (109.774210132, 77.846822448), (111.858309541, 78.393902518))
        make_face()
        with BuildLine():
            Line((179.473393864, 70.165192722), (217.50482476, 64.769576264))
            ThreePointArc((217.50482476, 64.769576264), (219.108331349, 63.86995645), (219.68467301, 62.123995546))
            Line((219.68467301, 62.123995546), (218.890378913, 46.71578744))
            ThreePointArc((218.890378913, 46.71578744), (218.192789678, 45.094545708), (216.607247121, 44.319232678))
            Line((216.607247121, 44.319232678), (179.370110323, 40.58420072))
            ThreePointArc((179.370110323, 40.58420072), (177.412540188, 41.227973149), (176.576610312, 43.111519011))
            Line((176.576610312, 43.111519011), (176.576610312, 67.650375533))
            ThreePointArc((176.576610312, 67.650375533), (177.451472213, 69.568425352), (179.473393864, 70.165192722))
        make_face()
        with BuildLine():
            Line((258.751236774, 61.163537573), (296.003687002, 61.163537573))
            ThreePointArc((296.003687002, 61.163537573), (297.799738226, 60.419588797), (298.543687002, 58.623537573))
            Line((298.543687002, 58.623537573), (298.543687002, 55.707363059))
            ThreePointArc((298.543687002, 55.707363059), (297.937199117, 54.060204626), (296.407363457, 53.199645906))
            Line((296.407363457, 53.199645906), (261.377375447, 47.560739881))
            ThreePointArc((261.377375447, 47.560739881), (259.584877656, 47.941775277), (258.515299797, 49.429807368))
            Line((258.515299797, 49.429807368), (256.292837579, 57.984887907))
            ThreePointArc((256.292837579, 57.984887907), (256.742036666, 60.177472876), (258.751236774, 61.163537573))
        make_face()
    extrude(amount=-CUT_EXTRUDE3_DEPTH, mode=Mode.SUBTRACT)


solid = part.part
